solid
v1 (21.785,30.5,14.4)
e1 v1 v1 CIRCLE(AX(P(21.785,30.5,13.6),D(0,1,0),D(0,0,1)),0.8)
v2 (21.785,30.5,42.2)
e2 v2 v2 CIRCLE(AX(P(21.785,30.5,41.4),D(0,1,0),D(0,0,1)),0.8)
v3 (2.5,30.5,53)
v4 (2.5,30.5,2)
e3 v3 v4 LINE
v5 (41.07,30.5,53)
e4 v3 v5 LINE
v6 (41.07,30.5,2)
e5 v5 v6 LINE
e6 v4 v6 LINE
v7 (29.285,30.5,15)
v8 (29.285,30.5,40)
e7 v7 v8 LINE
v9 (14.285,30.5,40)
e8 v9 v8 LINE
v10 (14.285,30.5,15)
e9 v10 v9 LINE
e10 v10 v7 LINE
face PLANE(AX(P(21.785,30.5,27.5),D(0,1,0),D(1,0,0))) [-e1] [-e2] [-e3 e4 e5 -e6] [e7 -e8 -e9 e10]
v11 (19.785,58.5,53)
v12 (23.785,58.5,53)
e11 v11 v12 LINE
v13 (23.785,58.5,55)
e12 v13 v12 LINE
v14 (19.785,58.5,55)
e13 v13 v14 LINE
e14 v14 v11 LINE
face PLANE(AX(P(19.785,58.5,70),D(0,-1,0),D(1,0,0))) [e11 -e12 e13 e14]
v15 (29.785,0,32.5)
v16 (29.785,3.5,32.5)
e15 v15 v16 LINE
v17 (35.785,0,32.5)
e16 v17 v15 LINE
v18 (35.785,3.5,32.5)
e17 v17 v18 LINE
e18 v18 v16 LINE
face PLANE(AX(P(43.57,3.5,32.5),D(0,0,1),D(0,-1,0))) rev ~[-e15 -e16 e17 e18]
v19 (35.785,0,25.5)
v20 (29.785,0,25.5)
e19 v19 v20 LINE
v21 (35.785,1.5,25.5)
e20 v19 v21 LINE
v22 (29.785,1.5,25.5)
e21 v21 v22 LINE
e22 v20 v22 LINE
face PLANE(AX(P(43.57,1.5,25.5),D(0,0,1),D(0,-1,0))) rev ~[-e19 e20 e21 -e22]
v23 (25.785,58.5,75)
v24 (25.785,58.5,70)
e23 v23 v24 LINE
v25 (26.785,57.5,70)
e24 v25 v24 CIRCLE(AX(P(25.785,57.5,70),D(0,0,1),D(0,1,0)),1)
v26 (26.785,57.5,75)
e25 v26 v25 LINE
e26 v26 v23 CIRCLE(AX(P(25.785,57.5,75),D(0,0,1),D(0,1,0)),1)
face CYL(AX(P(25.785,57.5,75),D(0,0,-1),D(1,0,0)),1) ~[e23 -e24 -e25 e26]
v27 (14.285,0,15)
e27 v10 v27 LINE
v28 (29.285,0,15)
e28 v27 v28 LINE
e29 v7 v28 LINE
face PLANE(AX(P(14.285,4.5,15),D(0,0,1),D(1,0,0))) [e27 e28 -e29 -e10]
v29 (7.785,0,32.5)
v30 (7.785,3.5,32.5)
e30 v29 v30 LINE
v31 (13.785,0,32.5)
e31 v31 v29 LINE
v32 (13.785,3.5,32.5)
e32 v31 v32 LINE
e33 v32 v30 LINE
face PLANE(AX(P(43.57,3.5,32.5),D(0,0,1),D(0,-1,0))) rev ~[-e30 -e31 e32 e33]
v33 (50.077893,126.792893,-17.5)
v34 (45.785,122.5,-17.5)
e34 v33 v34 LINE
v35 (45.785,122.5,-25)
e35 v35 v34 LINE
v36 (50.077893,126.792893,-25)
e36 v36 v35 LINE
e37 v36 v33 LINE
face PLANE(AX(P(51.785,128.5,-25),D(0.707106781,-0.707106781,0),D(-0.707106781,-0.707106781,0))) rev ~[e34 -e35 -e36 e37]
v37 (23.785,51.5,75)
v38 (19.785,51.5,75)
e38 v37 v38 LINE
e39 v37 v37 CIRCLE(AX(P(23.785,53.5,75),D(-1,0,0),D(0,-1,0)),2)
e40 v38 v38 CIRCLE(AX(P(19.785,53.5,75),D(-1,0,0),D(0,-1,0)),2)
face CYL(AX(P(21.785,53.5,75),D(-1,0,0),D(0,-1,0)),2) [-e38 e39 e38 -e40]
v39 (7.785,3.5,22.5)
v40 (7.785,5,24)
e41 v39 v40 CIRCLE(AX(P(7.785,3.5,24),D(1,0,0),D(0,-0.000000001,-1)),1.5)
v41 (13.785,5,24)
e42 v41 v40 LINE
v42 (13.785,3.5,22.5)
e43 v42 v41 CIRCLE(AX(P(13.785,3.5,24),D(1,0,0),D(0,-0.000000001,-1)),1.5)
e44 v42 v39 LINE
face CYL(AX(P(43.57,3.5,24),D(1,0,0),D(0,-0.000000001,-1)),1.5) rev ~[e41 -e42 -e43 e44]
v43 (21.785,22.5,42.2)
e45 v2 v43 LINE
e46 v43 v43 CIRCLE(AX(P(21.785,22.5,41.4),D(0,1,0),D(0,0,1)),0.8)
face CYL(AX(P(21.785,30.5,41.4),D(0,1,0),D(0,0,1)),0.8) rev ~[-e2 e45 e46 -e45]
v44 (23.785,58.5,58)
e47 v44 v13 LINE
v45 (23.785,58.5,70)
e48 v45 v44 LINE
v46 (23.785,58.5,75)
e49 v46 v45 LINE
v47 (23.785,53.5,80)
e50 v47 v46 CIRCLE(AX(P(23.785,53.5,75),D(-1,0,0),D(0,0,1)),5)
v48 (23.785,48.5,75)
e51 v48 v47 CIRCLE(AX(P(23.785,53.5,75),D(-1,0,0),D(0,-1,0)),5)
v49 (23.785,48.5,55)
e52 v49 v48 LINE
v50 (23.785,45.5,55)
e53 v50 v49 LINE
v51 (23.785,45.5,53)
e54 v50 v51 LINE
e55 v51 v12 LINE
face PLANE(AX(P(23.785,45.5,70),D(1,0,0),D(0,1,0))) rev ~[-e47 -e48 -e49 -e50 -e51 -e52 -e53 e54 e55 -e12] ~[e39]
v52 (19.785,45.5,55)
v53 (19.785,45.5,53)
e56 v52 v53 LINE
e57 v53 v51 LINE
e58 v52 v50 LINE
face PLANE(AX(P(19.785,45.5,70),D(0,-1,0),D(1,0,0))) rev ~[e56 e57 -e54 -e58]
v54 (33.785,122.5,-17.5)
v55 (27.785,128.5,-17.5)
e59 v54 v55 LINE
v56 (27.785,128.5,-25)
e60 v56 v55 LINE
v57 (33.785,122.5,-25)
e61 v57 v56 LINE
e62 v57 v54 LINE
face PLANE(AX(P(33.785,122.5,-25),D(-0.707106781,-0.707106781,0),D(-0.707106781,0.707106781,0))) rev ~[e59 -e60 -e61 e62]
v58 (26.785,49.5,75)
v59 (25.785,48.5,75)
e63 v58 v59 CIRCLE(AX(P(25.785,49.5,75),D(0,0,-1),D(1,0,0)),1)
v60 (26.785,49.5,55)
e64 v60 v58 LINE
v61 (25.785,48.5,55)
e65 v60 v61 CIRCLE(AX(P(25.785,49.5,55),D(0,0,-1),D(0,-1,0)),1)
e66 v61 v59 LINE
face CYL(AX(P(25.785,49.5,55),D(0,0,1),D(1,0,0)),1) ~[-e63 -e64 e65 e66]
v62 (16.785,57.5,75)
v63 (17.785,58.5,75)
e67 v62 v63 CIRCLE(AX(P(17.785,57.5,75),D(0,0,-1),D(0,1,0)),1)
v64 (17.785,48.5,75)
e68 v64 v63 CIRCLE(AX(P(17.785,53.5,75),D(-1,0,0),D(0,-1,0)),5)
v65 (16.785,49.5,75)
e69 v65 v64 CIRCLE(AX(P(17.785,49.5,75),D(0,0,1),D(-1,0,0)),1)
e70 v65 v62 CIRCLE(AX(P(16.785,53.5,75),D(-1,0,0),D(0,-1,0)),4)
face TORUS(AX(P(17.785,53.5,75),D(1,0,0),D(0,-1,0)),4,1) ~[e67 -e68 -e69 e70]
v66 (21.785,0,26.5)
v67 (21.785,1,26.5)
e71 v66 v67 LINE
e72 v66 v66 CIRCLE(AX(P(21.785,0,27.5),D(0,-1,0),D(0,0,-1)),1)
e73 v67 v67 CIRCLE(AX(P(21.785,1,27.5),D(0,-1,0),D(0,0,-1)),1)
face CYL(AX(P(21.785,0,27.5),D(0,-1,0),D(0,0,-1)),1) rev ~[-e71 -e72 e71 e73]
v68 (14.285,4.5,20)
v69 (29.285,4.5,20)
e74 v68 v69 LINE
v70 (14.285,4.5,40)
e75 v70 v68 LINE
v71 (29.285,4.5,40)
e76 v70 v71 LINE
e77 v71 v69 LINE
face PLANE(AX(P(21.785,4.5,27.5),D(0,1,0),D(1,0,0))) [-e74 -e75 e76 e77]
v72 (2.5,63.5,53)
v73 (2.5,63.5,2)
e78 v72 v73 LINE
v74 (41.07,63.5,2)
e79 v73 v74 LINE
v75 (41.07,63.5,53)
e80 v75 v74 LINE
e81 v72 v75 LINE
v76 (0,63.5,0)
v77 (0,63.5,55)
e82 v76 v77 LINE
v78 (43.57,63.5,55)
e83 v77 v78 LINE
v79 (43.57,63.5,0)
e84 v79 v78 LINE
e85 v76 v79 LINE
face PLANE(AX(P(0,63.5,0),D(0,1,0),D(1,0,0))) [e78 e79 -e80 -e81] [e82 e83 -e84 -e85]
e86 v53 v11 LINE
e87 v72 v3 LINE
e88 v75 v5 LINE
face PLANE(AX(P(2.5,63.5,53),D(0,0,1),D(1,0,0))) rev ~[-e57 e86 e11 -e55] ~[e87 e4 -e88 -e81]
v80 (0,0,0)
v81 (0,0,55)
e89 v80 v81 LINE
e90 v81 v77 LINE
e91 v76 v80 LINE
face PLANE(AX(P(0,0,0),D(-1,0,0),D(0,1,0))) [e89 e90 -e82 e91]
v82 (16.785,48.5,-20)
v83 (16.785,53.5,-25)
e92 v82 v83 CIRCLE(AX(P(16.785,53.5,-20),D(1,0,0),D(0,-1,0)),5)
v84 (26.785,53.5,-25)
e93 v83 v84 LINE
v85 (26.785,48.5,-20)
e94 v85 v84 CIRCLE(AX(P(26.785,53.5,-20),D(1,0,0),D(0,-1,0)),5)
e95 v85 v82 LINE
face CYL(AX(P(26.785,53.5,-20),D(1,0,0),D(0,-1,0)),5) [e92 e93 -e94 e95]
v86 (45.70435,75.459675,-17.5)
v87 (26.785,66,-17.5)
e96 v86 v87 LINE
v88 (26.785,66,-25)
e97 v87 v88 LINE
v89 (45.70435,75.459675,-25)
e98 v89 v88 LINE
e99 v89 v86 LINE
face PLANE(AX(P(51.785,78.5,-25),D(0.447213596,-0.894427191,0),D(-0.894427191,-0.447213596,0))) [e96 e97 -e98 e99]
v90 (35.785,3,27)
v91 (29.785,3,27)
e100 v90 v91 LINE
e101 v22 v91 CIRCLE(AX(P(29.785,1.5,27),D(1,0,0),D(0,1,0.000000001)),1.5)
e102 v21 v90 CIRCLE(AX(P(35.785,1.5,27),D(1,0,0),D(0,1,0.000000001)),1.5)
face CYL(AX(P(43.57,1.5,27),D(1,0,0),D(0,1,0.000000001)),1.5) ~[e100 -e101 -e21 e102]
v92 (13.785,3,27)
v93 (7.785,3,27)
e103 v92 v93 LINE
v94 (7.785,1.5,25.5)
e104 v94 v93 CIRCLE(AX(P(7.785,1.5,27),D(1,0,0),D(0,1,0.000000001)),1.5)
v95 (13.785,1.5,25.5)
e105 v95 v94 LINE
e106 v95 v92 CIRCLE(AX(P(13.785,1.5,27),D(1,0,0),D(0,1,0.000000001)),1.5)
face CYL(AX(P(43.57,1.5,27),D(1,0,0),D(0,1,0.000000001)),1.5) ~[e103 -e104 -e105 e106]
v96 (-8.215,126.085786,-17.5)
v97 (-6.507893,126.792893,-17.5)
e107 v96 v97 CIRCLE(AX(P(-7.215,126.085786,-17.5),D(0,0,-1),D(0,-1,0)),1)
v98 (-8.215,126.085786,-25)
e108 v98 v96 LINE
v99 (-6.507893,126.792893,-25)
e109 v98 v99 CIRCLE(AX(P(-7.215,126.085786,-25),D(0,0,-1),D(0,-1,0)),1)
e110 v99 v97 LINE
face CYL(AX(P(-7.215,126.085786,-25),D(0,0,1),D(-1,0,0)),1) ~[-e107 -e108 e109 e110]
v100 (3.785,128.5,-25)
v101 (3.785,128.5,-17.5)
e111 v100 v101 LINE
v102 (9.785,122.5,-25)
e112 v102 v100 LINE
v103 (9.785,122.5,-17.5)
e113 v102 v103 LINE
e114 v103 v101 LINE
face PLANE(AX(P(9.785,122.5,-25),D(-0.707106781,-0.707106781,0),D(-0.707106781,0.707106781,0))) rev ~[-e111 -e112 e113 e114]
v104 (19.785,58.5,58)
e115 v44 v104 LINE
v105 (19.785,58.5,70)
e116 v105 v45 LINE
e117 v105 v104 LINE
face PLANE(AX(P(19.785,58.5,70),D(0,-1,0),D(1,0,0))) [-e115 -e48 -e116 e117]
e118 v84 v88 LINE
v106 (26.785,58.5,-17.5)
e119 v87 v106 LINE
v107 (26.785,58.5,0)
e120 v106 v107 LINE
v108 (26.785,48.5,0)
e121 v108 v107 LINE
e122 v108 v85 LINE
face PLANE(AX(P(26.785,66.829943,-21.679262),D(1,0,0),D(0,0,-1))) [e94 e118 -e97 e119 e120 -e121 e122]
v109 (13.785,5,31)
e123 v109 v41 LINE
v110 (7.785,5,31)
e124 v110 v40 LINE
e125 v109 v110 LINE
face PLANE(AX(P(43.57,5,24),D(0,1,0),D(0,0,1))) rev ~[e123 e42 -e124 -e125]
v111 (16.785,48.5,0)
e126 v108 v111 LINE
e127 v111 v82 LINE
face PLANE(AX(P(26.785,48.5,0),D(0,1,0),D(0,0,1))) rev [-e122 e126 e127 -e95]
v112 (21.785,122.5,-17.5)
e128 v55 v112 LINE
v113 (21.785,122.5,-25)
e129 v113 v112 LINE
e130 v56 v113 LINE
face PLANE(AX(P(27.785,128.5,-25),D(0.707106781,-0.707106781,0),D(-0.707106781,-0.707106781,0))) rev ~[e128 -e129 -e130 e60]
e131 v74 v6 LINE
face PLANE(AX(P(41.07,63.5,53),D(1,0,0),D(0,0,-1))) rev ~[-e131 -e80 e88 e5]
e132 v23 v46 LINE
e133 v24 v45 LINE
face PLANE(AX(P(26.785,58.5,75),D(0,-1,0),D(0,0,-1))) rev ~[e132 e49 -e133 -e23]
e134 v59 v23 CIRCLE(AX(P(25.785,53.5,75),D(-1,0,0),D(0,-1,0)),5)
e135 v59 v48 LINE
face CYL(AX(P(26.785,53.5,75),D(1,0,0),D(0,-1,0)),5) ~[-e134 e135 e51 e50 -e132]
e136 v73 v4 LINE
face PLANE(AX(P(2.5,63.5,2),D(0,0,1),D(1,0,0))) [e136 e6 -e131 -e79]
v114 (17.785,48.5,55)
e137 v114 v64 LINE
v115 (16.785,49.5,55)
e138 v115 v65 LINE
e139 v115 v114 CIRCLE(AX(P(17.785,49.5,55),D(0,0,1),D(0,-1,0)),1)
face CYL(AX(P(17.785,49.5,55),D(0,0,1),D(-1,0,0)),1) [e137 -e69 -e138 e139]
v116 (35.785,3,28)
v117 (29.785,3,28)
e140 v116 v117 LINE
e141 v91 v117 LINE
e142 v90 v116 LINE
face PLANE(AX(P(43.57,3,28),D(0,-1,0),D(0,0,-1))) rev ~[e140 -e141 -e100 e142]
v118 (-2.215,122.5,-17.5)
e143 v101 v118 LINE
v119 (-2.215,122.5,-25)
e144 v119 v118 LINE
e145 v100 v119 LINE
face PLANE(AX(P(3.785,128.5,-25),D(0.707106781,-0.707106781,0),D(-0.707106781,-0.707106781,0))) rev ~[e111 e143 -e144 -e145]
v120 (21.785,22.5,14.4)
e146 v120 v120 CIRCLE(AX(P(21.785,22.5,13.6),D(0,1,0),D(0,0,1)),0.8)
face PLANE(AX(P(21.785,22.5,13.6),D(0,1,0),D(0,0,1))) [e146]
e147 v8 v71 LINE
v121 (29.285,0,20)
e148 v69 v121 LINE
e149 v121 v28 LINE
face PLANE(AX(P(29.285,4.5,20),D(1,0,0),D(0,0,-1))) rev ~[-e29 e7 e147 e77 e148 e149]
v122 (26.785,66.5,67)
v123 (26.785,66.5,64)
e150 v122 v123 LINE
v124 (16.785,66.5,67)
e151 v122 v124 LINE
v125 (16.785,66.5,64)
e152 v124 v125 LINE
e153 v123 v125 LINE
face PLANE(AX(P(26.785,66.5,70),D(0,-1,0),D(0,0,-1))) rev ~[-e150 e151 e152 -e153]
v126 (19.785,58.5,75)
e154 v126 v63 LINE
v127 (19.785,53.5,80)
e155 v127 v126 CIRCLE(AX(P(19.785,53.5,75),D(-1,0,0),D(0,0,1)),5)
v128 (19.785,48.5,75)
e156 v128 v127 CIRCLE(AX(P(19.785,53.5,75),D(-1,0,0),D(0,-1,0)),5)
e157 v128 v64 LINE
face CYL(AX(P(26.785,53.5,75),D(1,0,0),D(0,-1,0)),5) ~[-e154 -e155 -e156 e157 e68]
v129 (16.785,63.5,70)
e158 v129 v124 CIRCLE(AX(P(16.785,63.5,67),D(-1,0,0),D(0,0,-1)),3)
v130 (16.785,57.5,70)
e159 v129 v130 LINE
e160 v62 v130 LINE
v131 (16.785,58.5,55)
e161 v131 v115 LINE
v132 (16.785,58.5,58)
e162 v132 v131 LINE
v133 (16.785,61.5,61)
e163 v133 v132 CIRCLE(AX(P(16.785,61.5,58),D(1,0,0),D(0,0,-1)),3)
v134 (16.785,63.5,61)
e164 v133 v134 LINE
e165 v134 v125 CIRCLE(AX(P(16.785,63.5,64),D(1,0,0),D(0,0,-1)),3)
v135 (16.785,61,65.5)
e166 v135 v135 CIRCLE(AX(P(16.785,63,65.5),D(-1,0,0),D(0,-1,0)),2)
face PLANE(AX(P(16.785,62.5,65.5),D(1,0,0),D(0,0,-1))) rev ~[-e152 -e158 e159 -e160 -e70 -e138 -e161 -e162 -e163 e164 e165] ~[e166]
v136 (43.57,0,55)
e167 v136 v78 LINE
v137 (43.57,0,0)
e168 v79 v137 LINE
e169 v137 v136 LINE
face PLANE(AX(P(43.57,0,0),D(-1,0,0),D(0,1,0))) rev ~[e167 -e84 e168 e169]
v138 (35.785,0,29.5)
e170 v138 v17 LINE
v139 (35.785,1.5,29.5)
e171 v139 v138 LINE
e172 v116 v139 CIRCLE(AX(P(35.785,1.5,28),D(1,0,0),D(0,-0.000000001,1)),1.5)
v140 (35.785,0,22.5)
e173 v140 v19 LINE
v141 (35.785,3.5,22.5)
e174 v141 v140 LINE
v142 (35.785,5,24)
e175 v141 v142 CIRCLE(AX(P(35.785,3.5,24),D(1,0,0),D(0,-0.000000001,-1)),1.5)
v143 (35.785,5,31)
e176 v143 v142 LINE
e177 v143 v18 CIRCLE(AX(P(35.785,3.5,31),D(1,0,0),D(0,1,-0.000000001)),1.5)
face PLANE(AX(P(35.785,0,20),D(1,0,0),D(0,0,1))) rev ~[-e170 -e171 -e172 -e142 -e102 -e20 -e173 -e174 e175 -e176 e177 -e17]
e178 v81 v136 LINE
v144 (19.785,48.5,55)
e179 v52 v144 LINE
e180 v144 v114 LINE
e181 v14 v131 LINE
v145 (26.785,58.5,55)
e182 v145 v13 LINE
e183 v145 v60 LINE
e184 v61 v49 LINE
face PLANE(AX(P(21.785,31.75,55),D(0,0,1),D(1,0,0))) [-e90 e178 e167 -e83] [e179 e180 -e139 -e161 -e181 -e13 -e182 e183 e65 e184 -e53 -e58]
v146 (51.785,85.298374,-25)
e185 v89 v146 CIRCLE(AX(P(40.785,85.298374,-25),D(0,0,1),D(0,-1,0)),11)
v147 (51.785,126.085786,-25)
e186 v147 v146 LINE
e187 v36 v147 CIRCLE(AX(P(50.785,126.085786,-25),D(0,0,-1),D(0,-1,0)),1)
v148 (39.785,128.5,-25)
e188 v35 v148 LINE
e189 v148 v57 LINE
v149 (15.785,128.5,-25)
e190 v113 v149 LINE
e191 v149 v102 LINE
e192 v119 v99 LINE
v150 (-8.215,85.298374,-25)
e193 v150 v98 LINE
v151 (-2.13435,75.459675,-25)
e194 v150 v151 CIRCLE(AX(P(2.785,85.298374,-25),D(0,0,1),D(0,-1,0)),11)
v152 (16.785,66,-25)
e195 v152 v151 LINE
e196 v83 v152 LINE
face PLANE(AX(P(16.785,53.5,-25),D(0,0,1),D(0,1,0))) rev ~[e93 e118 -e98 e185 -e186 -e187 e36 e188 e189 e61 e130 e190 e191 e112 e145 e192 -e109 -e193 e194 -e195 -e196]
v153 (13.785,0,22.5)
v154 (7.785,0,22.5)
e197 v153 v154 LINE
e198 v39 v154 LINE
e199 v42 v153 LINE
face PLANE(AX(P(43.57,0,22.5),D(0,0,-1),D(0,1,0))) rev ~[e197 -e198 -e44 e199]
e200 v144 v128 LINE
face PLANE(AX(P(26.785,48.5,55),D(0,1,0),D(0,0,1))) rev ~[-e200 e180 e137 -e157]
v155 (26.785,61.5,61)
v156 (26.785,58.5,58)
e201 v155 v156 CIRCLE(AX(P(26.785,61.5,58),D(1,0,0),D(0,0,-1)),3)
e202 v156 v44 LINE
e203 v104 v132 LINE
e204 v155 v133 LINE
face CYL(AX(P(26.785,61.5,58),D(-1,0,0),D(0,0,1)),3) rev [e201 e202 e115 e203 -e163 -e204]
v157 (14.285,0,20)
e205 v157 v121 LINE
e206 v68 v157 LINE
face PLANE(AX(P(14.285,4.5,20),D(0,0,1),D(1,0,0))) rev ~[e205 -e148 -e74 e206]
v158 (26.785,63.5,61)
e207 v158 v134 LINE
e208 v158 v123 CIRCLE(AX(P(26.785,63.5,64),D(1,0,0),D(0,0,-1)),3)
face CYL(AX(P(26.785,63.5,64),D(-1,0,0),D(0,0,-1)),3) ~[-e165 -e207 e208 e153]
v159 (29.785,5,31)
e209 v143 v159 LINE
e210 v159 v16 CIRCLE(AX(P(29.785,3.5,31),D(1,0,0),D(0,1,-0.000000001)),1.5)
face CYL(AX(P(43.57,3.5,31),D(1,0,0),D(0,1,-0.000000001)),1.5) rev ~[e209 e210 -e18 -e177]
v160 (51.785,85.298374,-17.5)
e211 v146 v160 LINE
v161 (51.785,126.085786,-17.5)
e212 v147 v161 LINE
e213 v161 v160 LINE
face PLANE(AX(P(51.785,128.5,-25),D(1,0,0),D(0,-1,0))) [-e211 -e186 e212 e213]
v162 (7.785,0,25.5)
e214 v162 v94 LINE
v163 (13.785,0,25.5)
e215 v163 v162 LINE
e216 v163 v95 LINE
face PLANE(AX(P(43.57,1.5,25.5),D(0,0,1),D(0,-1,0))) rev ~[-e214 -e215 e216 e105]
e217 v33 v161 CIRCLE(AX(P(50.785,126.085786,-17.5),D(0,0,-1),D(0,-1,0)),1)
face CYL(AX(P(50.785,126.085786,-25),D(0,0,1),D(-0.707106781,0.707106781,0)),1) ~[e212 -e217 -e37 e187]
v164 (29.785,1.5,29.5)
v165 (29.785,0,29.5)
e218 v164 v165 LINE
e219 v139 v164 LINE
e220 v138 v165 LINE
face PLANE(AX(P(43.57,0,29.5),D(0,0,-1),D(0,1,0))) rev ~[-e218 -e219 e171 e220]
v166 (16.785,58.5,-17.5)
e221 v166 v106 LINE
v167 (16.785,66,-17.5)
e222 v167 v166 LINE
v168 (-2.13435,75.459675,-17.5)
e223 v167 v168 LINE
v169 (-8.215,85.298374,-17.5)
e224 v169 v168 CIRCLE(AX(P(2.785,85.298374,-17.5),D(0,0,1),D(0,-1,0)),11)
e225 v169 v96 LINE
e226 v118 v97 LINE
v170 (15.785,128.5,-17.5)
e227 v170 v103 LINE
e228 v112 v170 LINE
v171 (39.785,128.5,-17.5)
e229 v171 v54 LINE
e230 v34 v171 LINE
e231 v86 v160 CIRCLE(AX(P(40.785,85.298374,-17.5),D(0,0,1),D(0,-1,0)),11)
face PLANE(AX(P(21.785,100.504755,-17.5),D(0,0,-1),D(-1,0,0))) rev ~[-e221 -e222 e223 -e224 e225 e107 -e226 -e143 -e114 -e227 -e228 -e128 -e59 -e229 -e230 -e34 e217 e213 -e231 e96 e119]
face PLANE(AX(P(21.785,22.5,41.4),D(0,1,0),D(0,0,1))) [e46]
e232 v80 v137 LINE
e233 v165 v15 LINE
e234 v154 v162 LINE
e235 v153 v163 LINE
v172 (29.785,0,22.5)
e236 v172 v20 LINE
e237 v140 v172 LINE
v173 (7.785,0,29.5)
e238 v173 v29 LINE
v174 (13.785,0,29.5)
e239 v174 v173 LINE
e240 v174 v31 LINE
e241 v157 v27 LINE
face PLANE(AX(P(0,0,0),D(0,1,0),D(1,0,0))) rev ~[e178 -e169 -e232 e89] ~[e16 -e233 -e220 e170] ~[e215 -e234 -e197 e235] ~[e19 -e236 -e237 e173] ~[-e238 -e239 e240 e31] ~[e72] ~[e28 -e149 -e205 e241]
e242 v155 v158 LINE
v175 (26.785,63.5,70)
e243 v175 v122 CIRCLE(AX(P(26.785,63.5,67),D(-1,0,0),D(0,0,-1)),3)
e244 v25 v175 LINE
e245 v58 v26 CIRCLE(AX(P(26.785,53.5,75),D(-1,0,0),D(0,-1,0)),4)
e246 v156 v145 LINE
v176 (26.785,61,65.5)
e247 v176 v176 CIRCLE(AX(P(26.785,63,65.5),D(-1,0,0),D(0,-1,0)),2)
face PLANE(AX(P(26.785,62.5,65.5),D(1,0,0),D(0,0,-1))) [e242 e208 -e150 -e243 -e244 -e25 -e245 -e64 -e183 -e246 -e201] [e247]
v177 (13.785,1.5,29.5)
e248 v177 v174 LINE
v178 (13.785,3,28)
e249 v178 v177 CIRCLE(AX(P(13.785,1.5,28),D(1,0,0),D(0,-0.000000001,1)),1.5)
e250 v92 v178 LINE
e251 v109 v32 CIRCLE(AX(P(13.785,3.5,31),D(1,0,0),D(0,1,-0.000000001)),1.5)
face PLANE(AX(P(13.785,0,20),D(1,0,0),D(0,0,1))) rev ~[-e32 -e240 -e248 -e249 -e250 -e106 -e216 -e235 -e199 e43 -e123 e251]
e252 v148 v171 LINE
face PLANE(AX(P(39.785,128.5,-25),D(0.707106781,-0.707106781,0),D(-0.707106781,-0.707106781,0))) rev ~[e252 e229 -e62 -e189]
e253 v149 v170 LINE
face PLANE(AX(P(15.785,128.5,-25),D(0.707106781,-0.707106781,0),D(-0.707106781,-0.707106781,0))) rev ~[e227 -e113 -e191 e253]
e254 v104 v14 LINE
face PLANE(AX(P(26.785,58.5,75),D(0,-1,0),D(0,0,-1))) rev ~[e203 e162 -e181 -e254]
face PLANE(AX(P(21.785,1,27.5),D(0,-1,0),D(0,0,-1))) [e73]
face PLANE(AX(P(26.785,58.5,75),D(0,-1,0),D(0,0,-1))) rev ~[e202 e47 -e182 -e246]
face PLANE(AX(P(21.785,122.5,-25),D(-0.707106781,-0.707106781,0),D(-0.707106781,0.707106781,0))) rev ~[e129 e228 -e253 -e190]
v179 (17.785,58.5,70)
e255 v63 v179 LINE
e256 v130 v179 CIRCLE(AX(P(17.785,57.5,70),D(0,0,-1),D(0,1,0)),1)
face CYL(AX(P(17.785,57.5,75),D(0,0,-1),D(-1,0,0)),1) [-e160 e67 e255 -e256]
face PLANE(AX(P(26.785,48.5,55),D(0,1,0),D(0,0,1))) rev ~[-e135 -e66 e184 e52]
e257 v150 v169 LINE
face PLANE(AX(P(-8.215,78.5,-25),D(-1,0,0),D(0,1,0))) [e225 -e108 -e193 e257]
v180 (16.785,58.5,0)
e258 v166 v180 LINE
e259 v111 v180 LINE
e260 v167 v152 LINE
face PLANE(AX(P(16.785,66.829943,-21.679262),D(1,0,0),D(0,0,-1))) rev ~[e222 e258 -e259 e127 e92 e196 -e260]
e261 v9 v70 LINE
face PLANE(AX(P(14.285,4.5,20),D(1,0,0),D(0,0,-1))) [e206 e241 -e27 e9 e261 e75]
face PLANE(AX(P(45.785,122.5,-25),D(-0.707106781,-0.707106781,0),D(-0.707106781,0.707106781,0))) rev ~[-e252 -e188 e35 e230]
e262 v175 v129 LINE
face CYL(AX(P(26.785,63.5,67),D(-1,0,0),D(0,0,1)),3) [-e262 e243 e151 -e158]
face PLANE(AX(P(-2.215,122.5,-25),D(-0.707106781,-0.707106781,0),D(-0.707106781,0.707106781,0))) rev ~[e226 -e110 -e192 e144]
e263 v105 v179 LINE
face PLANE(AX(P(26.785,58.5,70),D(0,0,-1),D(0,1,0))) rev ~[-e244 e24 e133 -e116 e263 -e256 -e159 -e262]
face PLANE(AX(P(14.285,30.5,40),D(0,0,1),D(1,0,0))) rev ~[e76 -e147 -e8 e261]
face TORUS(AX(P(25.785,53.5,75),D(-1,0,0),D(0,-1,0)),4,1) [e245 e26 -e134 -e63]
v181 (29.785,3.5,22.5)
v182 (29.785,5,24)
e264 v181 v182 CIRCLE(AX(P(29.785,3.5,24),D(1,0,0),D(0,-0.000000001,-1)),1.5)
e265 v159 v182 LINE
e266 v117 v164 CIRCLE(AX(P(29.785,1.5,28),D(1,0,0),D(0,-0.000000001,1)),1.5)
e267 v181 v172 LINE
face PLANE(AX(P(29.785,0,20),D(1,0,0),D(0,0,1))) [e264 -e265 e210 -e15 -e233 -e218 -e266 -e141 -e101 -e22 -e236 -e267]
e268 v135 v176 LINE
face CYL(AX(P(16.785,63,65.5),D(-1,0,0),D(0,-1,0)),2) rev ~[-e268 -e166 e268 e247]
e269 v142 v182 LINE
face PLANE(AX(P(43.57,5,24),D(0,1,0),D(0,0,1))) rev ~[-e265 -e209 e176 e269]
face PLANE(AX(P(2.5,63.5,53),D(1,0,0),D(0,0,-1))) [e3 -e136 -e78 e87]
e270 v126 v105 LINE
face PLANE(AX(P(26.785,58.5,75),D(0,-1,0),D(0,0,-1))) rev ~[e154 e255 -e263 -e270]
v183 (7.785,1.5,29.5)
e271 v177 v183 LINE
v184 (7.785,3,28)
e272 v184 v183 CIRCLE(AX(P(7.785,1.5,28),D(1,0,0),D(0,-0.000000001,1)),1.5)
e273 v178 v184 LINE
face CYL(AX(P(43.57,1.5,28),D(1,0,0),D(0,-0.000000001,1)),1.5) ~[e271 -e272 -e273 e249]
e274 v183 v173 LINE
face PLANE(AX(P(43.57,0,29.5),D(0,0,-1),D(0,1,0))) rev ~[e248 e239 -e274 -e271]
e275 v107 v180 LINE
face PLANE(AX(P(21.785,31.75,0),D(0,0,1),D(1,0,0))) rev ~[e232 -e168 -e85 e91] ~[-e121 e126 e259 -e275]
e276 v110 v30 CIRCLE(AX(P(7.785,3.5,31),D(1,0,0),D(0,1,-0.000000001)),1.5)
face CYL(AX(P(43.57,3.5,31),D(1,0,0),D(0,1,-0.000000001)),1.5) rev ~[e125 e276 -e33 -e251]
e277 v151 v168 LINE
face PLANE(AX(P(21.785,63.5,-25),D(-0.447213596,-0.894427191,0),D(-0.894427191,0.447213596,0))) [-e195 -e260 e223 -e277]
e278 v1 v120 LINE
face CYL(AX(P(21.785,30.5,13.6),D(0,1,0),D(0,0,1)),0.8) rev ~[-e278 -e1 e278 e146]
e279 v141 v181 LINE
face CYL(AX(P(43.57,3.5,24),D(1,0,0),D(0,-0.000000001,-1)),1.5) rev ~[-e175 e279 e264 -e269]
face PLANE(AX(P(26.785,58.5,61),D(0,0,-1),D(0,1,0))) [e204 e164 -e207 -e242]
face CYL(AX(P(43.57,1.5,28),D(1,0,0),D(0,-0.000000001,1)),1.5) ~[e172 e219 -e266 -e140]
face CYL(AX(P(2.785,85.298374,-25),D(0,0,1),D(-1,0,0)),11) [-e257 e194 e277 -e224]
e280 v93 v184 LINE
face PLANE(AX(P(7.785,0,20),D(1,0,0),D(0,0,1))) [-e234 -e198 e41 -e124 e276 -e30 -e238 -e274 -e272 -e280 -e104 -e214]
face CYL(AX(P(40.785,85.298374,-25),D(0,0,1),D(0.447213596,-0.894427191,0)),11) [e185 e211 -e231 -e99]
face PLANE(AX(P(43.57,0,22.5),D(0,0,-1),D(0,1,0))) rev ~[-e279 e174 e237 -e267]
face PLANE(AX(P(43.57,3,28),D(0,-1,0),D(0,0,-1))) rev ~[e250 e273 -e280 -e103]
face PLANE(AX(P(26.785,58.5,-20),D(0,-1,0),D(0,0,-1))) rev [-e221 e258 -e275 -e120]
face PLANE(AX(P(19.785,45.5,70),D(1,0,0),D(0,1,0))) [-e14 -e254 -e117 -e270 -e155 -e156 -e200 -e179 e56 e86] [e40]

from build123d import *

# Parameters (mm, degrees)
SKETCH1_W           = 43.57
SKETCH1_H           = 63.5
BOSS_EXTRUDE1_DEPTH = 55
CUT_EXTRUDE2_DEPTH  = 95.634004988
SKETCH4_W           = 43.57
SKETCH4_H           = 55
SKETCH4_W_2         = 6
SKETCH4_H_2         = 15
BOSS_EXTRUDE2_DEPTH = 9
SKETCH5_R           = 1
CUT_EXTRUDE3_DEPTH  = 1
BOSS_EXTRUDE3_START = -26.785
BOSS_EXTRUDE3_DEPTH = 10
SKETCH7_R           = 2
CUT_EXTRUDE4_DEPTH  = 2
SKETCH13_W          = 9
SKETCH13_H          = 8
BOSS_EXTRUDE6_DEPTH = 10
FILLET12_R          = 3
FILLET2_R           = 1
BOSS_EXTRUDE4_DEPTH = 10
BOSS_EXTRUDE5_DEPTH = 7.5
CUT_EXTRUDE11_DEPTH = 174.835946297
LPATTERN1_COUNT     = 5
LPATTERN1_PITCH     = 12
FILLET9_R           = 1
FILLET11_R          = 11
SKETCH14_R          = 2
CUT_EXTRUDE12_DEPTH = 156.361674811
SKETCH15_W          = 15
SKETCH15_H          = 33
CUT_EXTRUDE13_DEPTH = 33
SKETCH16_W          = 15
SKETCH16_H          = 25
CUT_EXTRUDE14_DEPTH = 26
SKETCH18_R          = 0.8
CUT_EXTRUDE15_DEPTH = 8
SKETCH19_W          = 15
SKETCH19_H          = 5
CUT_EXTRUDE16_DEPTH = 25
SKETCH20_W          = 38.57
SKETCH20_H          = 51
CUT_EXTRUDE17_DEPTH = 33
SKETCH21_W          = 4
SKETCH21_H          = 13
CUT_EXTRUDE18_DEPTH = 27


with BuildPart() as part:
    # Sketch1 → Boss-Extrude1 (new body)
    with BuildSketch(Plane.XY):
        with Locations((21.785, 31.75)):
            Rectangle(SKETCH1_W, SKETCH1_H)
    extrude(amount=BOSS_EXTRUDE1_DEPTH)

    # Sketch3 → Cut-Extrude2 (cut, through all)
    with BuildSketch(Plane(origin=(43.57, 0, 0), x_dir=(0, 0, -1), z_dir=(1, 0, 0))):
        with BuildLine():
            Line((-29.5, 0), (-29.5, 1.5))
            ThreePointArc((-29.5, 1.5), (-29.060660172, 2.560660172), (-28, 3))
            Line((-28, 3), (-27, 3))
            ThreePointArc((-27, 3), (-25.939339828, 2.560660172), (-25.5, 1.5))
            Line((-25.5, 1.5), (-25.5, 0))
            Line((-25.5, 0), (-22.5, 0))
            Line((-22.5, 0), (-22.5, 3.5))
            ThreePointArc((-22.5, 3.5), (-22.939339828, 4.560660172), (-24, 5))
            Line((-24, 5), (-31, 5))
            ThreePointArc((-31, 5), (-32.060660172, 4.560660172), (-32.5, 3.5))
            Line((-32.5, 3.5), (-32.5, 0))
            Line((-32.5, 0), (-29.5, 0))
        make_face()
    extrude(amount=-CUT_EXTRUDE2_DEPTH, mode=Mode.SUBTRACT)


with BuildPart() as cut_extrude2_piece_1:
    # of the separate pieces the step leaves, piece 1, a body of its own (cut_extrude2_pieces)
    add(part.part.solids().sort_by_distance((0, 0, 0))[0])



with BuildPart() as cut_extrude2_piece_2:
    # of the separate pieces the step leaves, piece 2, a body of its own (cut_extrude2_pieces)
    add(part.part.solids().sort_by_distance((43.57, 0, 25.5))[0])


with BuildPart() as cut_extrude2_piece_1_1:
    add(cut_extrude2_piece_1.part)

    add(cut_extrude2_piece_2.part)  # Boss-Extrude2 merges Cut-Extrude2 piece 2
    # Sketch4 → Boss-Extrude2 (add)
    with BuildSketch(Plane.XZ):
        with Locations((21.785, 27.5)):
            Rectangle(SKETCH4_W, SKETCH4_H)
        with Locations((10.785, 27.5)):
            Rectangle(SKETCH4_W_2, SKETCH4_H_2, mode=Mode.SUBTRACT)
        with Locations((32.785, 27.5)):
            Rectangle(SKETCH4_W_2, SKETCH4_H_2, mode=Mode.SUBTRACT)
    extrude(amount=-BOSS_EXTRUDE2_DEPTH)

    # Sketch5 → Cut-Extrude3 (cut)
    with BuildSketch(Plane(origin=(0, 0, 0), x_dir=(-1, 0, 0), z_dir=(0, -1, 0))):
        with Locations(Location((-21.785, -27.5, 0), (0, 0, 90))):
            Circle(SKETCH5_R)
    extrude(amount=-CUT_EXTRUDE3_DEPTH, mode=Mode.SUBTRACT)

    # Sketch6 → Boss-Extrude3 (add)
    with BuildSketch(Plane.ZY.offset(BOSS_EXTRUDE3_START)):
        with BuildLine():
            Line((55, 48.5), (75, 48.5))
            ThreePointArc((75, 48.5), (80, 53.5), (75, 58.5))
            Line((75, 58.5), (55, 58.5))
            ThreePointArc((55, 58.5), (50, 53.5), (55, 48.5))
        make_face()
    boss_extrude3 = extrude(amount=BOSS_EXTRUDE3_DEPTH)

    # Mirror1: Boss-Extrude3 across plane
    add(boss_extrude3.mirror(Plane(origin=(0, 0, 27.5), x_dir=(1, 0, 0), z_dir=(0, 0, -1))))

    # Sketch7 → Cut-Extrude4 (cut, symmetric)
    # profile 1 of 3: a face of its own
    with BuildSketch(Plane.ZY.offset(-21.785)):
        with BuildLine():
            ThreePointArc((75, 58.5), (71.464466094, 57.035533906), (70, 53.5))
            ThreePointArc((70, 53.5), (71.464466094, 49.964466094), (75, 48.5))
            ThreePointArc((75, 48.5), (78.535533906, 49.964466094), (80, 53.5))
            ThreePointArc((80, 53.5), (78.535533906, 57.035533906), (75, 58.5))
        make_face()
        with Locations(Location((75, 53.5, 0), (0, 0, 270))):
            Circle(SKETCH7_R, mode=Mode.SUBTRACT)
    # profile 2 of 3: a face of its own
    with BuildSketch(Plane.ZY.offset(-21.785)):
        with BuildLine():
            Line((70, 58.5), (70, 53.5))
            ThreePointArc((70, 53.5), (71.464466094, 57.035533906), (75, 58.5))
            Line((75, 58.5), (70, 58.5))
        make_face()
    # profile 3 of 3: a face of its own
    with BuildSketch(Plane.ZY.offset(-21.785)):
        with BuildLine():
            ThreePointArc((75, 48.5), (71.464466094, 49.964466094), (70, 53.5))
            Line((70, 53.5), (70, 48.5))
            Line((70, 48.5), (75, 48.5))
        make_face()
    extrude(amount=CUT_EXTRUDE4_DEPTH, both=True, mode=Mode.SUBTRACT)

    # Sketch13 → Boss-Extrude6 (add)
    with BuildSketch(Plane(origin=(26.785, 0, 0), x_dir=(0, 0, -1), z_dir=(1, 0, 0))):
        with Locations((-65.5, 62.5)):
            Rectangle(SKETCH13_W, SKETCH13_H)
    extrude(amount=-BOSS_EXTRUDE6_DEPTH)

    # Fillet12
    fillet12_edges = [cut_extrude2_piece_1_1.edges().sort_by_distance(p)[0] for p in [
        (21.785, 66.5, 61),
        (21.785, 66.5, 70),
        (21.785, 58.5, 61),
    ]]
    fillet(fillet12_edges, radius=FILLET12_R)

    # Fillet2
    fillet2_edges = [cut_extrude2_piece_1_1.edges().sort_by_distance(p)[0] for p in [
        (16.785, 48.5, 65),
        (16.785, 53.5, 80),
        (16.785, 58.5, 72.5),
        (26.785, 48.5, 65),
        (26.785, 53.5, 80),
        (26.785, 58.5, 72.5),
    ]]
    fillet(fillet2_edges, radius=FILLET2_R)

    # Sketch10 → Boss-Extrude4 (add)
    with BuildSketch(Plane.ZY.offset(-16.785)):
        with BuildLine():
            Line((-25, 53.5), (-25, 78.5))
            Line((-25, 78.5), (-17.5, 78.5))
            Line((-17.5, 78.5), (-17.5, 58.5))
            Line((-17.5, 58.5), (-20, 58.5))
            ThreePointArc((-20, 58.5), (-23.535533906, 57.035533906), (-25, 53.5))
        make_face()
    extrude(amount=-BOSS_EXTRUDE4_DEPTH)

    # Sketch11 → Boss-Extrude5 (add)
    with BuildSketch(Plane(origin=(0, 0, -25), x_dir=(-1, 0, 0), z_dir=(0, 0, -1))):
        Polygon((-21.785, 63.5), (8.215, 78.5), (8.215, 128.5), (-51.785, 128.5), (-51.785, 78.5), align=None)
    extrude(amount=-BOSS_EXTRUDE5_DEPTH)

    # Sketch12 → Cut-Extrude11 (cut, through all)
    with BuildSketch(Plane(origin=(0, 0, -25), x_dir=(-1, 0, 0), z_dir=(0, 0, -1))):
        Polygon((-51.785, 128.5), (-45.785, 122.5), (-39.785, 128.5), align=None)
    cut_extrude11 = extrude(amount=-CUT_EXTRUDE11_DEPTH, mode=Mode.SUBTRACT)

    # LPattern1: Cut-Extrude11 ×5
    with Locations(*[(-i * LPATTERN1_PITCH, 0, 0) for i in range(1, LPATTERN1_COUNT)]):
        add(cut_extrude11, mode=Mode.SUBTRACT)

    # Fillet9
    fillet9_edges = [cut_extrude2_piece_1_1.edges().sort_by_distance(p)[0] for p in [
        (-8.215, 128.5, -21.25),
        (51.785, 128.5, -21.25),
    ]]
    fillet(fillet9_edges, radius=FILLET9_R)

    # Fillet11
    fillet11_edges = [cut_extrude2_piece_1_1.edges().sort_by_distance(p)[0] for p in [
        (-8.215, 78.5, -21.25),
        (51.785, 78.5, -21.25),
    ]]
    fillet(fillet11_edges, radius=FILLET11_R)

    # Sketch14 → Cut-Extrude12 (cut, through all)
    with BuildSketch(Plane.ZY.offset(-16.785)):
        with Locations(Location((65.5, 63, 0), (0, 0, 270))):
            Circle(SKETCH14_R)
    extrude(amount=-CUT_EXTRUDE12_DEPTH, mode=Mode.SUBTRACT)

    # Sketch15 → Cut-Extrude13 (cut)
    with BuildSketch(Plane(origin=(0, 63.5, 0), x_dir=(1, 0, 0), z_dir=(0, 1, 0))):
        with Locations((21.785, -27.5)):
            Rectangle(SKETCH15_W, SKETCH15_H)
    extrude(amount=-CUT_EXTRUDE13_DEPTH, mode=Mode.SUBTRACT)

    # Sketch16 → Cut-Extrude14 (cut)
    with BuildSketch(Plane(origin=(0, 30.5, 0), x_dir=(1, 0, 0), z_dir=(0, 1, 0))):
        with Locations((21.785, -27.5)):
            Rectangle(SKETCH16_W, SKETCH16_H)
    extrude(amount=-CUT_EXTRUDE14_DEPTH, mode=Mode.SUBTRACT)

    # Sketch18 → Cut-Extrude15 (cut)
    with BuildSketch(Plane(origin=(0, 30.5, 0), x_dir=(1, 0, 0), z_dir=(0, 1, 0))):
        with Locations(Location((21.785, -13.6, 0), (0, 0, 270))):
            Circle(SKETCH18_R)
        with Locations(Location((21.785, -41.4, 0), (0, 0, 270))):
            Circle(SKETCH18_R)
    extrude(amount=-CUT_EXTRUDE15_DEPTH, mode=Mode.SUBTRACT)

    # Sketch19 → Cut-Extrude16 (cut)
    with BuildSketch(Plane(origin=(0, 4.5, 0), x_dir=(1, 0, 0), z_dir=(0, 1, 0))):
        with Locations((21.785, -17.5)):
            Rectangle(SKETCH19_W, SKETCH19_H)
    extrude(amount=-CUT_EXTRUDE16_DEPTH, mode=Mode.SUBTRACT)

    # Sketch20 → Cut-Extrude17 (cut)
    with BuildSketch(Plane(origin=(0, 63.5, 0), x_dir=(1, 0, 0), z_dir=(0, 1, 0))):
        with Locations((21.785, -27.5)):
            Rectangle(SKETCH20_W, SKETCH20_H)
    extrude(amount=-CUT_EXTRUDE17_DEPTH, mode=Mode.SUBTRACT)

    # Sketch21 → Cut-Extrude18 (cut)
    with BuildSketch(Plane.XY.offset(70)):
        with Locations((21.785, 52)):
            Rectangle(SKETCH21_W, SKETCH21_H)
    extrude(amount=-CUT_EXTRUDE18_DEPTH, mode=Mode.SUBTRACT)


solid = cut_extrude2_piece_1_1.part
